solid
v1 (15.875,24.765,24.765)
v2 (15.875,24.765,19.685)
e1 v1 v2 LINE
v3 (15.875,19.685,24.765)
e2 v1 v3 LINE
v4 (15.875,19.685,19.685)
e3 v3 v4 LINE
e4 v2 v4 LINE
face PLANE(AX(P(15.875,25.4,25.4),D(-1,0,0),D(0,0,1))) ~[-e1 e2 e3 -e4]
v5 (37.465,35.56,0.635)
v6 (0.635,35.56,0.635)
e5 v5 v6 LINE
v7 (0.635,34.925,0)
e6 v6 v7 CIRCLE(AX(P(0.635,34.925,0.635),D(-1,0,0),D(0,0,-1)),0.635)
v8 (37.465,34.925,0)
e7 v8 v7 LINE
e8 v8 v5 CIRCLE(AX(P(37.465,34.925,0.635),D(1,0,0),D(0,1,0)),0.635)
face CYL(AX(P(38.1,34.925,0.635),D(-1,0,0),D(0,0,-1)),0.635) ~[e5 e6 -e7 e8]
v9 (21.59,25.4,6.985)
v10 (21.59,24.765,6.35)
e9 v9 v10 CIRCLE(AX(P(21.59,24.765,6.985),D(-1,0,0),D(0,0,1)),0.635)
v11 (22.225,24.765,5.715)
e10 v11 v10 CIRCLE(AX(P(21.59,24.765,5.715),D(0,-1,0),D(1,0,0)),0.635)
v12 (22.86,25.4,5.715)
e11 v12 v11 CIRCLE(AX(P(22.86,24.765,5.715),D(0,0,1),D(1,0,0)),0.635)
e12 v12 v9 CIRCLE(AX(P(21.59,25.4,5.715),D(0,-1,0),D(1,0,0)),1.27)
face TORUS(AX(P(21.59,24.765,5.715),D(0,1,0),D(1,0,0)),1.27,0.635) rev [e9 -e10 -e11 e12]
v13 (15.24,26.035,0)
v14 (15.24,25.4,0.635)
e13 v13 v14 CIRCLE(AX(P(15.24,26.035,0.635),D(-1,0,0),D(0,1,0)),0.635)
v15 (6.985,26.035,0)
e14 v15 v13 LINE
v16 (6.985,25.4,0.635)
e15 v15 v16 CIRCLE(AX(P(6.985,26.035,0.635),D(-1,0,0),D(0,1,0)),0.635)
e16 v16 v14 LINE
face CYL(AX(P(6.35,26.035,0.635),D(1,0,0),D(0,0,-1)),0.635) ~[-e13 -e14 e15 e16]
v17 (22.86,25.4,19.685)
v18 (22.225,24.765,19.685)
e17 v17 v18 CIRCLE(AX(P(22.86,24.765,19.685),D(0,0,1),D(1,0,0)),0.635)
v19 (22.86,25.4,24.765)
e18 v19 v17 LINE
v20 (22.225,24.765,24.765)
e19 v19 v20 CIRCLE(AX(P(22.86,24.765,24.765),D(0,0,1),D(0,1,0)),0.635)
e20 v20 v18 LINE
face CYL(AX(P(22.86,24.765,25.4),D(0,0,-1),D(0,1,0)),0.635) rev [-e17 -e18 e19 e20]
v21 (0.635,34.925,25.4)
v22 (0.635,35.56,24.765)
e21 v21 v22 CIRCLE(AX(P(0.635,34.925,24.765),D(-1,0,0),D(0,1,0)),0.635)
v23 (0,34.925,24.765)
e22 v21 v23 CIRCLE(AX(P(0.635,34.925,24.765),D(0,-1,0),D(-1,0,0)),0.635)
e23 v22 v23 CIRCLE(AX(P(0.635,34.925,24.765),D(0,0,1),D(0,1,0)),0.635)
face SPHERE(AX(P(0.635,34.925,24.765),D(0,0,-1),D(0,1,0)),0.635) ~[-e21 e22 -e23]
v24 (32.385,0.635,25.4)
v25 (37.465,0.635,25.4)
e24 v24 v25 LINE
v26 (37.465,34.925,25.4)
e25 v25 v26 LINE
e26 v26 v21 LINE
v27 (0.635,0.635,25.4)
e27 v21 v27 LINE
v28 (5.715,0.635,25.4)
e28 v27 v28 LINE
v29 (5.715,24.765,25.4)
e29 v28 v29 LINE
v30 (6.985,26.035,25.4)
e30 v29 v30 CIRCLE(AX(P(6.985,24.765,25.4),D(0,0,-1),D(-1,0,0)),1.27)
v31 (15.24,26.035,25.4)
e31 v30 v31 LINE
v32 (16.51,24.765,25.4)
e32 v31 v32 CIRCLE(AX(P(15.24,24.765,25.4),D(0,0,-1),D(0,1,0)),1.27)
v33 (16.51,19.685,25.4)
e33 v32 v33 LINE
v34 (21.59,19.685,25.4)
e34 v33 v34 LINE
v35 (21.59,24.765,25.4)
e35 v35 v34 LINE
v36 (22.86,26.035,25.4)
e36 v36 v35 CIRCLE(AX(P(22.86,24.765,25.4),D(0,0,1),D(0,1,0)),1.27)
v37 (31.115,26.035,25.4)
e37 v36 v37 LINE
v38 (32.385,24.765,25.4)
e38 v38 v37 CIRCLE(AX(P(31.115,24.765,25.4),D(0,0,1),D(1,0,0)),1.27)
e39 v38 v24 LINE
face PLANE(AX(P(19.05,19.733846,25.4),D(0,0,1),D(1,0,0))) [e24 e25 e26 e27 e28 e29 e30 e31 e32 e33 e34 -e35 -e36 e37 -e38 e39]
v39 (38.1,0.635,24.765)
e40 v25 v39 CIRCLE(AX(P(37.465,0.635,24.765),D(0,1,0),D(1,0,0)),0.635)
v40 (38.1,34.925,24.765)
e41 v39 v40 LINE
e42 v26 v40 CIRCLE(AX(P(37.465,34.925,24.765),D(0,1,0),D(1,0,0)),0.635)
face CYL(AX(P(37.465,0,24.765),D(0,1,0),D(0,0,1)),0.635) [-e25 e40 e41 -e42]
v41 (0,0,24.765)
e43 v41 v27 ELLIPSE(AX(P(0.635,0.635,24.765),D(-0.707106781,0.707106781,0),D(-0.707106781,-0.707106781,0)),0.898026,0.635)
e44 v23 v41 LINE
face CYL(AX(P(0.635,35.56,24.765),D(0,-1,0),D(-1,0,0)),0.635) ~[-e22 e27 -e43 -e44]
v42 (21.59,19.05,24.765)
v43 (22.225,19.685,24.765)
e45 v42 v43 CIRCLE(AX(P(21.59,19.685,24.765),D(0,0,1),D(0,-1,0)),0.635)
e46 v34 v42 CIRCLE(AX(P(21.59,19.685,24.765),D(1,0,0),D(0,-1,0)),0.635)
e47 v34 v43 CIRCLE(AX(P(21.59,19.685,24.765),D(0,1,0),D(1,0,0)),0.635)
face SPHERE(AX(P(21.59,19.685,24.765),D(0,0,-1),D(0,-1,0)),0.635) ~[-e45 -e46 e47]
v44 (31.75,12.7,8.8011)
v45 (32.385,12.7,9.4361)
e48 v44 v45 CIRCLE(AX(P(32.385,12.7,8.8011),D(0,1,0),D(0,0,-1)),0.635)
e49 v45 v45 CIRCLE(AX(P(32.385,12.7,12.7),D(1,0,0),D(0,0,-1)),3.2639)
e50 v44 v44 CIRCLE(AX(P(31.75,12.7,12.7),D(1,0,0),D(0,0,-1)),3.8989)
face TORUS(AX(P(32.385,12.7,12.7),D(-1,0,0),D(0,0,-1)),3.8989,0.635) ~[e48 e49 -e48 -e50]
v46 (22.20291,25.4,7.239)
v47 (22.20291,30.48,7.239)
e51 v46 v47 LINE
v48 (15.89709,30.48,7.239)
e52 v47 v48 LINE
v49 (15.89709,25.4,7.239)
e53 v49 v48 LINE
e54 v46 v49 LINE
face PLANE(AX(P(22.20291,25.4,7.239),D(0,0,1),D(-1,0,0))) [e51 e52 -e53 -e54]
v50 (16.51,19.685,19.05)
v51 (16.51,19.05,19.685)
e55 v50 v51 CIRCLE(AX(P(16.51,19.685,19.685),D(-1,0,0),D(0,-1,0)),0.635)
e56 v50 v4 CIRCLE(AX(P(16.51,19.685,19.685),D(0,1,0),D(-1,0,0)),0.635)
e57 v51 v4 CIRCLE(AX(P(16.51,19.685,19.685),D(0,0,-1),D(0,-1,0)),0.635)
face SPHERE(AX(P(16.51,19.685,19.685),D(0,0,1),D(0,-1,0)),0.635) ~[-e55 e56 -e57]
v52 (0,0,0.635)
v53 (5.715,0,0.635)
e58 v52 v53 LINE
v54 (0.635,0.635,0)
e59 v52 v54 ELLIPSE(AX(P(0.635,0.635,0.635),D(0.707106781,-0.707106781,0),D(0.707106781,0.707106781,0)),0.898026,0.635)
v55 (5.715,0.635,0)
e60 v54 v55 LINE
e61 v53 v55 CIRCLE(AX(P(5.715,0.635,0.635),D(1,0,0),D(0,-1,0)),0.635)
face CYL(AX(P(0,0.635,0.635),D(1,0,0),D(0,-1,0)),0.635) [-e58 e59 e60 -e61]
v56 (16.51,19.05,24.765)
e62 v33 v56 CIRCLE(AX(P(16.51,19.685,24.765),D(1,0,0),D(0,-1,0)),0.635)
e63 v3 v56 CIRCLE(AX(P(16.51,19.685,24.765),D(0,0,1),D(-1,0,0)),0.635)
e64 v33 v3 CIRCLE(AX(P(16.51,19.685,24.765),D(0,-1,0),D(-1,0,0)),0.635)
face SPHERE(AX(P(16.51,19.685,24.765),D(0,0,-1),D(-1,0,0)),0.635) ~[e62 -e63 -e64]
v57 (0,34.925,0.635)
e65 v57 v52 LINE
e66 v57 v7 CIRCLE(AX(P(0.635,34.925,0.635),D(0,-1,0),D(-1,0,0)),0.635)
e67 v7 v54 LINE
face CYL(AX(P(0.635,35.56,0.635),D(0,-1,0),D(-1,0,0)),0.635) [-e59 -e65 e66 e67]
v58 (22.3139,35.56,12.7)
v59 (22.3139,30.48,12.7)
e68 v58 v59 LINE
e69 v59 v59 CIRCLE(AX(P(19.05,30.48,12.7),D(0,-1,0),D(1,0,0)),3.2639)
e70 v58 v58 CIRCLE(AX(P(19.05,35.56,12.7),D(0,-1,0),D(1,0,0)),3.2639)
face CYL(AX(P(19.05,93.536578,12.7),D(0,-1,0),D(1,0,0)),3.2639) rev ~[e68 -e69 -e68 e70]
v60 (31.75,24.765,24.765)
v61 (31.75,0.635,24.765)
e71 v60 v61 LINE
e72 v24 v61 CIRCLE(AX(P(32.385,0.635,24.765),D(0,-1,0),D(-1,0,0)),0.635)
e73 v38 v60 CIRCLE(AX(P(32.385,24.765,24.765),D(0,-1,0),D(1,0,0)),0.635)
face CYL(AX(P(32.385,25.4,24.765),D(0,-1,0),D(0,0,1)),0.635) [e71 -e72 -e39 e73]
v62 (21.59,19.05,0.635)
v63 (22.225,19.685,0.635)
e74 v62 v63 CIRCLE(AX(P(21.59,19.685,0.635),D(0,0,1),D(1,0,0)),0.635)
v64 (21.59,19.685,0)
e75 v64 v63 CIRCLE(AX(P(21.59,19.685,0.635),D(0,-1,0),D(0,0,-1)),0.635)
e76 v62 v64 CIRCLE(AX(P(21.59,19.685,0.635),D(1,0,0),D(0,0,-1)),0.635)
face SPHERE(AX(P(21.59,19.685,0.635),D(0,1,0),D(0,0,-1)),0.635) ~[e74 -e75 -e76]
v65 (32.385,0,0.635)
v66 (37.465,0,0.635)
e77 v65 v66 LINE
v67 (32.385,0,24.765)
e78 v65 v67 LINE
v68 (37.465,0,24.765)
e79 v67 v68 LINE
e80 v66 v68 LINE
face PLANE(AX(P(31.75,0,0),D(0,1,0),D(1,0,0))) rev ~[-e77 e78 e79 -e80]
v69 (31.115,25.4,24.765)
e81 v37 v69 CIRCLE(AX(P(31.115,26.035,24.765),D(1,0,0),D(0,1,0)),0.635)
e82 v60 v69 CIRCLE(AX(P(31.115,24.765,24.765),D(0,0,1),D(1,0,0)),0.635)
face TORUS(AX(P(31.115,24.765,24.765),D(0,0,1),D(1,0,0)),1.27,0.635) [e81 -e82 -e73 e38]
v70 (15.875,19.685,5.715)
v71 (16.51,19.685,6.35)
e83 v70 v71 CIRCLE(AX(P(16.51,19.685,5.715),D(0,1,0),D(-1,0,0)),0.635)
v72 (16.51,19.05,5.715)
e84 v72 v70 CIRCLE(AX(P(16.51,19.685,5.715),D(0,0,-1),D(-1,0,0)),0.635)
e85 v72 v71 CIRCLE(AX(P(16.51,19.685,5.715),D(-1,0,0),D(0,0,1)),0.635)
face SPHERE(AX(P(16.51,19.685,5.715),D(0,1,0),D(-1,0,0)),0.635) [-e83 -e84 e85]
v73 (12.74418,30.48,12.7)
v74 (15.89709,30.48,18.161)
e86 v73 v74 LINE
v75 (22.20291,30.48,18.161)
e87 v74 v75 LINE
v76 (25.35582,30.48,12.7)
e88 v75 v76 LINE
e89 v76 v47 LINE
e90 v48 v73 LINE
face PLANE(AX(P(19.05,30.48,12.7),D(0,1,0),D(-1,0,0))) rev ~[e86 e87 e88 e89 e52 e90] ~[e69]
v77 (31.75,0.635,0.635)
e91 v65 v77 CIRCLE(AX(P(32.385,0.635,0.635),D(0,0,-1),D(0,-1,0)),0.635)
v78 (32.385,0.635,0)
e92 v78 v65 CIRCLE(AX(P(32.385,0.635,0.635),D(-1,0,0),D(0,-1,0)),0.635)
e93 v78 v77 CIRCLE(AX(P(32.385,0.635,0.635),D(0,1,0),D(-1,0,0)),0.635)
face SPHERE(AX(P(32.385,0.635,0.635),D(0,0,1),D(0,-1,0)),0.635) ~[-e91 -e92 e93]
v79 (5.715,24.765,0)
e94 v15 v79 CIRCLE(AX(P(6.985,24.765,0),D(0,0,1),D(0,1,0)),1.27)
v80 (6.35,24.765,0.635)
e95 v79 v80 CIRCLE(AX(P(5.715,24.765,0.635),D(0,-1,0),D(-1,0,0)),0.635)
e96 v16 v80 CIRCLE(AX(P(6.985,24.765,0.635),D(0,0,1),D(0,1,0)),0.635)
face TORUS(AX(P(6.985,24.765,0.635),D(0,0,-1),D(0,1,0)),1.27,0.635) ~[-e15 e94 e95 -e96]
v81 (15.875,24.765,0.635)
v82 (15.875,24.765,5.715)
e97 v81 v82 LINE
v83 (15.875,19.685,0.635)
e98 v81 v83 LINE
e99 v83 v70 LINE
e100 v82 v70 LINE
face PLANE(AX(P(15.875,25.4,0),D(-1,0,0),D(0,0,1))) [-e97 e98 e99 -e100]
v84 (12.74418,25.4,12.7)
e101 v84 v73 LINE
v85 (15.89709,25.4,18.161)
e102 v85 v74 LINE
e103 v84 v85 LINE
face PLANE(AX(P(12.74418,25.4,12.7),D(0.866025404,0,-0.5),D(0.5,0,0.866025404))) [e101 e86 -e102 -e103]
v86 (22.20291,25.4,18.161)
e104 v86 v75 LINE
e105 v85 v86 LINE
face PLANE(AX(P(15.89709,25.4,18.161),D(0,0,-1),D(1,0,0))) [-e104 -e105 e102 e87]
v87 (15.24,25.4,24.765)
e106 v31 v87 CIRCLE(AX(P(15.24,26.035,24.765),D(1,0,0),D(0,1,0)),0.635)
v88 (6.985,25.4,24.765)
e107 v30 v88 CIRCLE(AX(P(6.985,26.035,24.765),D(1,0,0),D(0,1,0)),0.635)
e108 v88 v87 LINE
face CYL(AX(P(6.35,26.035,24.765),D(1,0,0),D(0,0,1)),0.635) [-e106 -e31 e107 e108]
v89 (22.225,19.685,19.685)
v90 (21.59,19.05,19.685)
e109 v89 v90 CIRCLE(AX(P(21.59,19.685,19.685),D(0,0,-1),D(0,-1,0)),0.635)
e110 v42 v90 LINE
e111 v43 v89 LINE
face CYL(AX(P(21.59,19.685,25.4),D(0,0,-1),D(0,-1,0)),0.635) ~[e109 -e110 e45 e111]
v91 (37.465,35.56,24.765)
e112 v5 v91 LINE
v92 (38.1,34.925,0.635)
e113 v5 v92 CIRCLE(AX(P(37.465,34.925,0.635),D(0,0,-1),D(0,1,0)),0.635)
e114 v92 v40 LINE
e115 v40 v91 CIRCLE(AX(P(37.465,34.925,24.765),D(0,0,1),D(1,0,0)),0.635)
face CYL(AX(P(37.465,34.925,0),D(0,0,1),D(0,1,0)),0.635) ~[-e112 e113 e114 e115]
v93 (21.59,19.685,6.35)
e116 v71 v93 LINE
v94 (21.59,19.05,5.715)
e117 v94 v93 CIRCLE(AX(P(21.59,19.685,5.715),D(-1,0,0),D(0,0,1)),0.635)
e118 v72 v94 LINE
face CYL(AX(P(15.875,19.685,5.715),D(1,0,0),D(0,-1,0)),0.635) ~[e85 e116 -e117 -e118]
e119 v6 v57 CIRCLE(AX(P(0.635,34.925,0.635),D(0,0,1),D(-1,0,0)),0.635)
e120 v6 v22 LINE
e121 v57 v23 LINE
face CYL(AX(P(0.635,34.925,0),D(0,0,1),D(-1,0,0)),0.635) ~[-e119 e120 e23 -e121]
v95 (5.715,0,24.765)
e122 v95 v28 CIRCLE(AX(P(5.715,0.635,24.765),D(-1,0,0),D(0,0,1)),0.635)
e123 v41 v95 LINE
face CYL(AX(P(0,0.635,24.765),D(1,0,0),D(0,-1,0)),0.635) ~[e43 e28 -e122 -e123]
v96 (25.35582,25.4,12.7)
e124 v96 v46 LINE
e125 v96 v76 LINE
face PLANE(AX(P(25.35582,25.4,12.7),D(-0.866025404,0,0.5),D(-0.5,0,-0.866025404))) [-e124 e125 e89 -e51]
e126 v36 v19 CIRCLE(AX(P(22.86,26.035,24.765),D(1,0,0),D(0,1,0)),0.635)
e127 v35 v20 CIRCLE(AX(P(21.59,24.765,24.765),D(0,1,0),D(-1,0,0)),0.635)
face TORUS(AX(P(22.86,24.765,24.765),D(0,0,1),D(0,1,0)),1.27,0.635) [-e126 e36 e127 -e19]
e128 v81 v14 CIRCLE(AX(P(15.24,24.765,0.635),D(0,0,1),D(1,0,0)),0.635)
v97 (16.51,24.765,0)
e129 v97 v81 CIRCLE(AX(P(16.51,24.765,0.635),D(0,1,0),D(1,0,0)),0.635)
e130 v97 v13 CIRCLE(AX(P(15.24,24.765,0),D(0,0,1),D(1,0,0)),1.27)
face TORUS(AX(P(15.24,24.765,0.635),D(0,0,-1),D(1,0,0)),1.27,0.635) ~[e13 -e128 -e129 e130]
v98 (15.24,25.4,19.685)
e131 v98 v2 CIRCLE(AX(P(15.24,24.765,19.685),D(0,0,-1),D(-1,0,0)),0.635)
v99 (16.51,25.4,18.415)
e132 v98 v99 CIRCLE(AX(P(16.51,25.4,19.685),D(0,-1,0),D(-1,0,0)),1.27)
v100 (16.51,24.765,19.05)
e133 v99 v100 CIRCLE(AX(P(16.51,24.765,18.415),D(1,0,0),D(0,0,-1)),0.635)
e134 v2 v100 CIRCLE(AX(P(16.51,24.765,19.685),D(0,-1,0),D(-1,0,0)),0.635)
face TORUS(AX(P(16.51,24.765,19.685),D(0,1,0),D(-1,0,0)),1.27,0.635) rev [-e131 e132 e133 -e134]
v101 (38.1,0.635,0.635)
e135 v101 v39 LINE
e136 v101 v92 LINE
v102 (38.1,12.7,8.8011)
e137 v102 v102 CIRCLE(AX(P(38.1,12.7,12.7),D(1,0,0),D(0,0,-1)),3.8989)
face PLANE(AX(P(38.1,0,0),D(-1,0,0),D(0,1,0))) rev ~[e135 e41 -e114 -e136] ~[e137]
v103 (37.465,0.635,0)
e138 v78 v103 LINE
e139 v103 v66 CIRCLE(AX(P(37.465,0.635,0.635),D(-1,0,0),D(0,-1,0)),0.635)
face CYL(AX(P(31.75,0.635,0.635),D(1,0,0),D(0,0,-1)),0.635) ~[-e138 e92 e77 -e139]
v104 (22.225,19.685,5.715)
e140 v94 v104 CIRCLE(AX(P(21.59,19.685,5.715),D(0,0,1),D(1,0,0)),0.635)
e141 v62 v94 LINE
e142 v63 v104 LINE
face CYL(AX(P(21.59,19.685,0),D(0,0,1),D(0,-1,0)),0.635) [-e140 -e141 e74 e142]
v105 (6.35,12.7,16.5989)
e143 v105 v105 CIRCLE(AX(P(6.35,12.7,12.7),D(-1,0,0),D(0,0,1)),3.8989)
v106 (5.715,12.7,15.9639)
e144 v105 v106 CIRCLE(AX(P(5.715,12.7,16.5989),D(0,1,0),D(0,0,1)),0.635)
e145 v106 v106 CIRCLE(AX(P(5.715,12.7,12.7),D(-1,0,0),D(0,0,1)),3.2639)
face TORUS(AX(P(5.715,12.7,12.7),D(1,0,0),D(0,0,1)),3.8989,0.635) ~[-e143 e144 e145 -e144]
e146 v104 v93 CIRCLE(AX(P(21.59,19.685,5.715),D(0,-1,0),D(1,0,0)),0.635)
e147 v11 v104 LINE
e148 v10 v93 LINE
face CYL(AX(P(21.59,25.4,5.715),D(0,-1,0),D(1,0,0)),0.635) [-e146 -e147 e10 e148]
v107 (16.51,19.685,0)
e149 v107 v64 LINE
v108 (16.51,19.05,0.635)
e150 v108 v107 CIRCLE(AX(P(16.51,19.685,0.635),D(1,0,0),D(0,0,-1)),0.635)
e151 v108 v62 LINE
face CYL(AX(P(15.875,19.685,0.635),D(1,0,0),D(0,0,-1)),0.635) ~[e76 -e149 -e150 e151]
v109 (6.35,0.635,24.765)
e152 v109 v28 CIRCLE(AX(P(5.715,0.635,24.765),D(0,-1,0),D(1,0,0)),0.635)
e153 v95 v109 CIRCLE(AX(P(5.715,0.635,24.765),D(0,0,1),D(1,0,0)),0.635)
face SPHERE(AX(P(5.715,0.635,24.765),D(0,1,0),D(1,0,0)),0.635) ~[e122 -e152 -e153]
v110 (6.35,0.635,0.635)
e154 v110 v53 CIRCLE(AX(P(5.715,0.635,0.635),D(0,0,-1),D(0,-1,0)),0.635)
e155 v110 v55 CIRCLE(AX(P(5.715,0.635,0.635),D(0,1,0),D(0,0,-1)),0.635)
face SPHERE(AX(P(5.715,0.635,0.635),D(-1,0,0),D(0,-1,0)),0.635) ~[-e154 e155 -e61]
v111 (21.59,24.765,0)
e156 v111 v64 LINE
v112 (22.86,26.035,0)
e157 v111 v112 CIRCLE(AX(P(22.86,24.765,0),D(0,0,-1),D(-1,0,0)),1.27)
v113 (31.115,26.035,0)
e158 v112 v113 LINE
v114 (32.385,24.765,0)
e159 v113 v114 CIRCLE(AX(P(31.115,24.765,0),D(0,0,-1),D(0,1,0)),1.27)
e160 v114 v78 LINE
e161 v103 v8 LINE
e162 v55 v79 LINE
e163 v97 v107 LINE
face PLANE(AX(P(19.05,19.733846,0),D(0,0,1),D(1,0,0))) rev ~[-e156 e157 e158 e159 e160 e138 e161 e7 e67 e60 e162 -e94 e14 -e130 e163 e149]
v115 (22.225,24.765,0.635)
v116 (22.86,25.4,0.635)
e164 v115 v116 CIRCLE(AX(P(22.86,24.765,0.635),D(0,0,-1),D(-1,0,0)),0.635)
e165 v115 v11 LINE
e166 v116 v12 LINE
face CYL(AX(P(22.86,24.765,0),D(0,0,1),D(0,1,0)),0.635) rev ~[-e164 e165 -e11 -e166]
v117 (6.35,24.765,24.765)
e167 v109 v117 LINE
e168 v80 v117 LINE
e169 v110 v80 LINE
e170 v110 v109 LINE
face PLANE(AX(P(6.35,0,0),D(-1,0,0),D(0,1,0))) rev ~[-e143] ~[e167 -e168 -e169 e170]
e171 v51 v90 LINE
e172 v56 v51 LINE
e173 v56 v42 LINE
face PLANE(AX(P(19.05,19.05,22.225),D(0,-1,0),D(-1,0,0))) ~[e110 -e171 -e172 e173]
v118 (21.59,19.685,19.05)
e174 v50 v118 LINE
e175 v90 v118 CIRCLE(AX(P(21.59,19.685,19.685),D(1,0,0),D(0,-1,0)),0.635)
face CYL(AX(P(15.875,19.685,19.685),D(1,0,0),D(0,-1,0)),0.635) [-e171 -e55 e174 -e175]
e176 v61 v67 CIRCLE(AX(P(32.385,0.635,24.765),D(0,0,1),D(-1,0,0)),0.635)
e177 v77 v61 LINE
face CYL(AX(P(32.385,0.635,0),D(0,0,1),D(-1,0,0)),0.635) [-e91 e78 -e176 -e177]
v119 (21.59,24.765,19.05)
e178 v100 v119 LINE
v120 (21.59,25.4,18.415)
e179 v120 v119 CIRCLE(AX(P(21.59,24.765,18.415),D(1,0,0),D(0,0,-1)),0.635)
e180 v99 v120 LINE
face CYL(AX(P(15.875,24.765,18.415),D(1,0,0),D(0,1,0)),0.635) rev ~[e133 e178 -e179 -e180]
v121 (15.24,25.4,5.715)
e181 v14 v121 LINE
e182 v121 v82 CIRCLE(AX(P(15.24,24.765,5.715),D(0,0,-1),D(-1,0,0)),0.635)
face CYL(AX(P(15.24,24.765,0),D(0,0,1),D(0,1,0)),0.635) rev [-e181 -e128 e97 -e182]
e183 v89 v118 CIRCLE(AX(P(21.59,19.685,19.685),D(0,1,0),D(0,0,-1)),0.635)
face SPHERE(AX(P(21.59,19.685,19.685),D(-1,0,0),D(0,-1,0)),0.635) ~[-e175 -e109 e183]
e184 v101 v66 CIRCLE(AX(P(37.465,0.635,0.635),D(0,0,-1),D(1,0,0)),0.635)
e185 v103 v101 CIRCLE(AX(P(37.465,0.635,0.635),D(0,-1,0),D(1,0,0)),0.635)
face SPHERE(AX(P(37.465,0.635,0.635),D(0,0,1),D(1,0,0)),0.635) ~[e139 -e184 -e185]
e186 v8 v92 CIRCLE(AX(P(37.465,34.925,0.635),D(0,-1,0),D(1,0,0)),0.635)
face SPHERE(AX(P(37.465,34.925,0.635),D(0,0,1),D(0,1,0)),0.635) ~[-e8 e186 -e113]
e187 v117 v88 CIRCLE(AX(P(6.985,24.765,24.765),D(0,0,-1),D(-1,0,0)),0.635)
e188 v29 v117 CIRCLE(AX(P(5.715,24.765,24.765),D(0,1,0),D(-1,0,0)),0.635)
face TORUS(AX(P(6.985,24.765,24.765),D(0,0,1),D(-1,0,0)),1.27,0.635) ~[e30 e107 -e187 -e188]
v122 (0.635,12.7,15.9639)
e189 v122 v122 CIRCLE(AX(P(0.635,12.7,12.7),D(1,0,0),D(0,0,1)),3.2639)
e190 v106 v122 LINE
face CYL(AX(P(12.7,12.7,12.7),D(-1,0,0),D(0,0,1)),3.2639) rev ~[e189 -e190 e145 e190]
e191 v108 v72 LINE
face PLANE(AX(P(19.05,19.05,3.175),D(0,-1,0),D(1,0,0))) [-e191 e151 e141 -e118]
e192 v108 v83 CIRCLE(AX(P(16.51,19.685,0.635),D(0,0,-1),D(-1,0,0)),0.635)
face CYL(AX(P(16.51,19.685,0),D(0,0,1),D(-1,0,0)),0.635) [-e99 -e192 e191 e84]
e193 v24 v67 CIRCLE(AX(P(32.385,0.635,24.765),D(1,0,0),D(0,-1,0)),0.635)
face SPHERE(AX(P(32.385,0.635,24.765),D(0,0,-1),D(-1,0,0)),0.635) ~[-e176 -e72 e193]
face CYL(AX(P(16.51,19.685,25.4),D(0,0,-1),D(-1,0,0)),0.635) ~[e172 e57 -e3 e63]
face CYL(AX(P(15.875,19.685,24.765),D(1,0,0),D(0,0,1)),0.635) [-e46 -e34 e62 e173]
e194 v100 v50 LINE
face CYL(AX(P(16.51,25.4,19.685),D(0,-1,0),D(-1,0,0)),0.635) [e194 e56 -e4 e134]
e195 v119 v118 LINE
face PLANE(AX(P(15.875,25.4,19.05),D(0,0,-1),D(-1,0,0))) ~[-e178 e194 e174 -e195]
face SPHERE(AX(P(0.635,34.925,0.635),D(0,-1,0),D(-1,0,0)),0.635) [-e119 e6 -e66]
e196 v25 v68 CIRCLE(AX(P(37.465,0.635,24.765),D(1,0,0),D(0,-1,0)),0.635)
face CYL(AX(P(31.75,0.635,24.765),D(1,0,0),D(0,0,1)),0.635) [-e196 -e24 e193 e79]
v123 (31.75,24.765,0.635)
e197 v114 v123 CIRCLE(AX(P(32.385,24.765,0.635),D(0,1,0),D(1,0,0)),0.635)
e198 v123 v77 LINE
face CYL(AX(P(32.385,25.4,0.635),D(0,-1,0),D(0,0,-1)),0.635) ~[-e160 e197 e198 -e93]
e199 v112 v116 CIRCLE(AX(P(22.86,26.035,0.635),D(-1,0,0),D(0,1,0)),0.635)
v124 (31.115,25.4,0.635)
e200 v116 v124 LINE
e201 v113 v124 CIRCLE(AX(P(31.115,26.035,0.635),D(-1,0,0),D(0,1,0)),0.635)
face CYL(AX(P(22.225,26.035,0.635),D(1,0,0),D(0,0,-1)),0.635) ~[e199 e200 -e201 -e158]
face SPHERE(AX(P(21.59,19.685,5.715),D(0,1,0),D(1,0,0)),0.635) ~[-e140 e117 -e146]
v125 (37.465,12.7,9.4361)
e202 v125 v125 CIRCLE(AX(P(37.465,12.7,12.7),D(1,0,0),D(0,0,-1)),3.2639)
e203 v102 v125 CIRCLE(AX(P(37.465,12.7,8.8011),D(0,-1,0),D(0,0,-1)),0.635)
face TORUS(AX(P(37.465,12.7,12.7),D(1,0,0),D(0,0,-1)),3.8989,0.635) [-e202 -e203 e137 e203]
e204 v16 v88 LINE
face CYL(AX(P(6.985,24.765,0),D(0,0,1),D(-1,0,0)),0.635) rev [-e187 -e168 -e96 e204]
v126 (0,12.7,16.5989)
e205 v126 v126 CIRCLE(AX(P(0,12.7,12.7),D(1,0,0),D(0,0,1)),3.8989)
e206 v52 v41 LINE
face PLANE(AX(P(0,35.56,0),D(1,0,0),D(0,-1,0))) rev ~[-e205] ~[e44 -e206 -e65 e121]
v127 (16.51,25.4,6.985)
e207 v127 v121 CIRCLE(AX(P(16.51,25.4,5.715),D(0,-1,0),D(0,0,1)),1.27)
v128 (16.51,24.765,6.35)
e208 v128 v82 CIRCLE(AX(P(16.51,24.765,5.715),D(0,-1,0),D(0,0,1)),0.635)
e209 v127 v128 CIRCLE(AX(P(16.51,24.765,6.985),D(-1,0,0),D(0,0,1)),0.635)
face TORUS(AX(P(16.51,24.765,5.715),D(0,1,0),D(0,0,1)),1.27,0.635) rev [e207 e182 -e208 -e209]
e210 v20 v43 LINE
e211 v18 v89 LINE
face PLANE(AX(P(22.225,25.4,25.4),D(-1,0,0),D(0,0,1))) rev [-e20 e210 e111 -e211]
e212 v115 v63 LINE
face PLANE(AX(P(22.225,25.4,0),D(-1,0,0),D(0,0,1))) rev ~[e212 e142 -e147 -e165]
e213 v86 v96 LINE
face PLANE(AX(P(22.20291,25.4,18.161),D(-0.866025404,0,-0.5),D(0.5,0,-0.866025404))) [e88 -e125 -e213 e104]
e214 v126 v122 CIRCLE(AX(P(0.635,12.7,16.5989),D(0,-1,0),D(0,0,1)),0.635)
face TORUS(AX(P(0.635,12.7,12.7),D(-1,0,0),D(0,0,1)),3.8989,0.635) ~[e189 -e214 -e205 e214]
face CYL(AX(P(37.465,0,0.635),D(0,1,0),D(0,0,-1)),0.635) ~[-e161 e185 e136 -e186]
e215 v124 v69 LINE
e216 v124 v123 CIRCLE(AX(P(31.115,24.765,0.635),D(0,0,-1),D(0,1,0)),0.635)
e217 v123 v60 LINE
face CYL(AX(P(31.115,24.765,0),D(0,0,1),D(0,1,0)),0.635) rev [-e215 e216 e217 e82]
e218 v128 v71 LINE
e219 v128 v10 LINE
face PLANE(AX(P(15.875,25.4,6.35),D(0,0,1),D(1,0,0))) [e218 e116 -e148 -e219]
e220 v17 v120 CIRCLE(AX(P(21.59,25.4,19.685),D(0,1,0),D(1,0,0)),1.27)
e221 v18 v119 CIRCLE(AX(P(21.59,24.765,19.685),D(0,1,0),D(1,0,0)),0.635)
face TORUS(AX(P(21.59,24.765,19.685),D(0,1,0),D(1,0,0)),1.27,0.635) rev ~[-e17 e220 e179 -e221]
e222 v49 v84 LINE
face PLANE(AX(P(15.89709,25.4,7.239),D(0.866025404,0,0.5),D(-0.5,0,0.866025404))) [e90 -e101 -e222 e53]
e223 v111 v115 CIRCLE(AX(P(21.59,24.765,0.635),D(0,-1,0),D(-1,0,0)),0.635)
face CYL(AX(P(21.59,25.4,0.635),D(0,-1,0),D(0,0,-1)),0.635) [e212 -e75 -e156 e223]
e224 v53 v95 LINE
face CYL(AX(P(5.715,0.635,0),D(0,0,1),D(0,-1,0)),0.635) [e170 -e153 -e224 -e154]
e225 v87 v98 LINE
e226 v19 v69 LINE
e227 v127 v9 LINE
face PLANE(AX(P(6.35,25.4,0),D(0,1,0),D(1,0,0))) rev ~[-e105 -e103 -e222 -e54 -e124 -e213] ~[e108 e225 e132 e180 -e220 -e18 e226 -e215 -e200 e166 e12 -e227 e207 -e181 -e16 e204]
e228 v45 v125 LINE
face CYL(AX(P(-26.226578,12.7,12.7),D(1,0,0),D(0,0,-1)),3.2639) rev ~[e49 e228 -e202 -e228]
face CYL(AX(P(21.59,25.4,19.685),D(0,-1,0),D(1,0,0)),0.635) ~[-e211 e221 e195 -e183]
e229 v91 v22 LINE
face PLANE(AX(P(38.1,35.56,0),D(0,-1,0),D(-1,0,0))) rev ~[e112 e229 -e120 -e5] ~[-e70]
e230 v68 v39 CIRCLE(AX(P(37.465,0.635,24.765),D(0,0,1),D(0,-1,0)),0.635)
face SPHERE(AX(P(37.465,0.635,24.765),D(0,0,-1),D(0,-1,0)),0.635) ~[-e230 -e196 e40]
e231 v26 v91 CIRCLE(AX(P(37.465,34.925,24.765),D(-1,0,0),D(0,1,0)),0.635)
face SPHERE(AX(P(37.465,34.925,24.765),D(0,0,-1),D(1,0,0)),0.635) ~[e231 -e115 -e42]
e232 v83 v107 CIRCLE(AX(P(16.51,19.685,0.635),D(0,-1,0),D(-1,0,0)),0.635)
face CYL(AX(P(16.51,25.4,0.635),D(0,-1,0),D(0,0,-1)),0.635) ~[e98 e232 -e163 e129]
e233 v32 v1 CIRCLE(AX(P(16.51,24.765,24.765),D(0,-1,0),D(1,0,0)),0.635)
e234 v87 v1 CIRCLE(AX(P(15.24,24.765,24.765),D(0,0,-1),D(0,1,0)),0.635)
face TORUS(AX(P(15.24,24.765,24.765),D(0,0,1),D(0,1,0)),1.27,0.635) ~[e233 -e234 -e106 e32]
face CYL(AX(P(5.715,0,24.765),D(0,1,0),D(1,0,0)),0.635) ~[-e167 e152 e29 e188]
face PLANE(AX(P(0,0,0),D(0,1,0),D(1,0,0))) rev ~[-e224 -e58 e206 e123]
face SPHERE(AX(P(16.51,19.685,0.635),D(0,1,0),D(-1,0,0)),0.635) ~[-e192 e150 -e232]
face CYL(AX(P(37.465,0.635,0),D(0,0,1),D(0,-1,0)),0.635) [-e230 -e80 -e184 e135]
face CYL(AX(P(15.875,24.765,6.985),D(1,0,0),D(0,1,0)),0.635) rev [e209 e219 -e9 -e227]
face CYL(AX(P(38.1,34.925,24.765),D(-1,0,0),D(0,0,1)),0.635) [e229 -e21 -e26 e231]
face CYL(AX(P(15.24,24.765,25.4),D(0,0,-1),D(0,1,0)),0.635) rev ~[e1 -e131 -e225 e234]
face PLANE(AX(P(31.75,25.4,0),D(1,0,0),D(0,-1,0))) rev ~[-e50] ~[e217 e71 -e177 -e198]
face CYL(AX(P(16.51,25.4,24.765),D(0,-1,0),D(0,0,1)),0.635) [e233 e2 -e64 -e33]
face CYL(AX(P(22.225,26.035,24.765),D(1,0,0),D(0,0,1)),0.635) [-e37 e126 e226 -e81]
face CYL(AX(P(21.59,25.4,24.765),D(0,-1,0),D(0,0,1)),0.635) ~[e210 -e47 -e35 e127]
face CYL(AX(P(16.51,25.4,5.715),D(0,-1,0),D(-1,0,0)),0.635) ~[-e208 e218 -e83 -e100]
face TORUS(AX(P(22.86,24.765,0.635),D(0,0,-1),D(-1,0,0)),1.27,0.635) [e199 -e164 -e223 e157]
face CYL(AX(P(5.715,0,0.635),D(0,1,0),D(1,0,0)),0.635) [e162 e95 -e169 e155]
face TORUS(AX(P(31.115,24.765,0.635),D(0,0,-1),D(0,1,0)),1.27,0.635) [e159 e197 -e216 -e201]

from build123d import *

# Parameters (mm, degrees)
BOSS_EXTRUDE1_DEPTH              = 25.4
SKETCH2_W                        = 6.35
SKETCH2_H                        = 6.35
BOSS_EXTRUDE2_DEPTH              = 6.35
F_97_0_0059_DIAMETER_HOLE3_D     = 6.5278
F_97_0_0059_DIAMETER_HOLE1_D     = 6.5278
F_97_0_0059_DIAMETER_HOLE1_DEPTH = 6.35
F_97_0_0059_DIAMETER_HOLE2_D     = 6.5278
BOSS_EXTRUDE3_DEPTH              = 5.08
FILLET1_R                        = 0.635


with BuildPart() as part:
    # Sketch1 → Boss-Extrude1 (new body)
    with BuildSketch(Plane.XY):
        Polygon((0, 0), (6.35, 0), (6.35, 25.4), (31.75, 25.4), (31.75, 0), (38.1, 0), (38.1, 35.56), (0, 35.56), align=None)
    extrude(amount=BOSS_EXTRUDE1_DEPTH)

    # Sketch2 → Boss-Extrude2 (add)
    with BuildSketch(Plane.XZ.offset(-25.4)):
        with Locations((19.05, 3.175)):
            Rectangle(SKETCH2_W, SKETCH2_H)
    boss_extrude2 = extrude(amount=BOSS_EXTRUDE2_DEPTH)

    # Mirror1: Boss-Extrude2 across plane
    add(boss_extrude2.mirror(Plane.XY.offset(12.7)))

    # #97 (0.0059) Diameter Hole3 (through all)
    with Locations(Plane(origin=(0, 35.56, 0), x_dir=(-1, 0, 0), z_dir=(0, 1, 0))):
        with Locations((-19.05, 12.7)):
            Hole(F_97_0_0059_DIAMETER_HOLE3_D / 2)

    # #97 (0.0059) Diameter Hole1
    with Locations(Plane(origin=(6.35, 0, 0), x_dir=(0, 0, -1), z_dir=(1, 0, 0))):
        with Locations((-12.7, 12.7)):
            Hole(F_97_0_0059_DIAMETER_HOLE1_D / 2, depth=F_97_0_0059_DIAMETER_HOLE1_DEPTH)

    # #97 (0.0059) Diameter Hole2 (through all)
    with Locations(Plane.ZY.offset(-31.75)):
        with Locations((12.7, 12.7)):
            Hole(F_97_0_0059_DIAMETER_HOLE2_D / 2)


with BuildPart() as body_2:
    # Sketch9 → Boss-Extrude3 (new body)
    with BuildSketch(Plane(origin=(0, 25.4, 0), x_dir=(-1, 0, 0), z_dir=(0, 1, 0))):
        Polygon((-25.35581964, 12.7), (-22.20290982, 7.239), (-15.89709018, 7.239), (-12.74418036, 12.7), (-15.89709018, 18.161), (-22.20290982, 18.161), align=None)
    extrude(amount=BOSS_EXTRUDE3_DEPTH)


with BuildPart() as part_1:
    add(part.part)

    # Combine1: cut body 2
    add(body_2.part, mode=Mode.SUBTRACT)

    # Fillet1
    fillet1_edges = [part_1.edges().sort_by_distance(p)[0] for p in [
        (6.35, 12.7, 25.4),
        (3.175, 0, 0),
        (0, 17.78, 0),
        (11.1125, 25.4, 25.4),
        (0, 35.56, 12.7),
        (38.1, 35.56, 12.7),
        (38.1, 0, 12.7),
        (31.75, 0, 12.7),
        (31.75, 25.4, 12.7),
        (6.35, 25.4, 12.7),
        (6.35, 0, 12.7),
        (31.75, 12.7, 25.4),
        (34.925, 0, 25.4),
        (38.1, 17.78, 25.4),
        (26.9875, 25.4, 0),
        (19.05, 35.56, 25.4),
        (15.875, 25.4, 3.175),
        (15.875, 22.225, 6.35),
        (15.875, 22.225, 0),
        (22.225, 25.4, 3.175),
        (22.225, 22.225, 0),
        (19.05, 25.4, 6.35),
        (22.225, 22.225, 6.35),
        (15.875, 19.05, 3.175),
        (19.05, 19.05, 0),
        (22.225, 19.05, 3.175),
        (19.05, 19.05, 6.35),
        (26.9875, 25.4, 25.4),
        (15.875, 19.05, 22.225),
        (15.875, 22.225, 25.4),
        (19.05, 19.05, 19.05),
        (15.875, 22.225, 19.05),
        (22.225, 19.05, 22.225),
        (22.225, 22.225, 19.05),
        (19.05, 19.05, 25.4),
        (22.225, 22.225, 25.4),
        (15.875, 25.4, 22.225),
        (0, 17.78, 25.4),
        (22.225, 25.4, 22.225),
        (19.05, 25.4, 19.05),
        (6.35, 12.7, 9.4361),
        (0, 12.7, 9.4361),
        (31.75, 12.7, 15.9639),
        (38.1, 12.7, 15.9639),
        (3.175, 0, 25.4),
        (19.05, 35.56, 0),
        (38.1, 17.78, 0),
        (34.925, 0, 0),
        (31.75, 12.7, 0),
        (11.1125, 25.4, 0),
        (6.35, 12.7, 0),
    ]]
    fillet(fillet1_edges, radius=FILLET1_R)


solid = part_1.part
